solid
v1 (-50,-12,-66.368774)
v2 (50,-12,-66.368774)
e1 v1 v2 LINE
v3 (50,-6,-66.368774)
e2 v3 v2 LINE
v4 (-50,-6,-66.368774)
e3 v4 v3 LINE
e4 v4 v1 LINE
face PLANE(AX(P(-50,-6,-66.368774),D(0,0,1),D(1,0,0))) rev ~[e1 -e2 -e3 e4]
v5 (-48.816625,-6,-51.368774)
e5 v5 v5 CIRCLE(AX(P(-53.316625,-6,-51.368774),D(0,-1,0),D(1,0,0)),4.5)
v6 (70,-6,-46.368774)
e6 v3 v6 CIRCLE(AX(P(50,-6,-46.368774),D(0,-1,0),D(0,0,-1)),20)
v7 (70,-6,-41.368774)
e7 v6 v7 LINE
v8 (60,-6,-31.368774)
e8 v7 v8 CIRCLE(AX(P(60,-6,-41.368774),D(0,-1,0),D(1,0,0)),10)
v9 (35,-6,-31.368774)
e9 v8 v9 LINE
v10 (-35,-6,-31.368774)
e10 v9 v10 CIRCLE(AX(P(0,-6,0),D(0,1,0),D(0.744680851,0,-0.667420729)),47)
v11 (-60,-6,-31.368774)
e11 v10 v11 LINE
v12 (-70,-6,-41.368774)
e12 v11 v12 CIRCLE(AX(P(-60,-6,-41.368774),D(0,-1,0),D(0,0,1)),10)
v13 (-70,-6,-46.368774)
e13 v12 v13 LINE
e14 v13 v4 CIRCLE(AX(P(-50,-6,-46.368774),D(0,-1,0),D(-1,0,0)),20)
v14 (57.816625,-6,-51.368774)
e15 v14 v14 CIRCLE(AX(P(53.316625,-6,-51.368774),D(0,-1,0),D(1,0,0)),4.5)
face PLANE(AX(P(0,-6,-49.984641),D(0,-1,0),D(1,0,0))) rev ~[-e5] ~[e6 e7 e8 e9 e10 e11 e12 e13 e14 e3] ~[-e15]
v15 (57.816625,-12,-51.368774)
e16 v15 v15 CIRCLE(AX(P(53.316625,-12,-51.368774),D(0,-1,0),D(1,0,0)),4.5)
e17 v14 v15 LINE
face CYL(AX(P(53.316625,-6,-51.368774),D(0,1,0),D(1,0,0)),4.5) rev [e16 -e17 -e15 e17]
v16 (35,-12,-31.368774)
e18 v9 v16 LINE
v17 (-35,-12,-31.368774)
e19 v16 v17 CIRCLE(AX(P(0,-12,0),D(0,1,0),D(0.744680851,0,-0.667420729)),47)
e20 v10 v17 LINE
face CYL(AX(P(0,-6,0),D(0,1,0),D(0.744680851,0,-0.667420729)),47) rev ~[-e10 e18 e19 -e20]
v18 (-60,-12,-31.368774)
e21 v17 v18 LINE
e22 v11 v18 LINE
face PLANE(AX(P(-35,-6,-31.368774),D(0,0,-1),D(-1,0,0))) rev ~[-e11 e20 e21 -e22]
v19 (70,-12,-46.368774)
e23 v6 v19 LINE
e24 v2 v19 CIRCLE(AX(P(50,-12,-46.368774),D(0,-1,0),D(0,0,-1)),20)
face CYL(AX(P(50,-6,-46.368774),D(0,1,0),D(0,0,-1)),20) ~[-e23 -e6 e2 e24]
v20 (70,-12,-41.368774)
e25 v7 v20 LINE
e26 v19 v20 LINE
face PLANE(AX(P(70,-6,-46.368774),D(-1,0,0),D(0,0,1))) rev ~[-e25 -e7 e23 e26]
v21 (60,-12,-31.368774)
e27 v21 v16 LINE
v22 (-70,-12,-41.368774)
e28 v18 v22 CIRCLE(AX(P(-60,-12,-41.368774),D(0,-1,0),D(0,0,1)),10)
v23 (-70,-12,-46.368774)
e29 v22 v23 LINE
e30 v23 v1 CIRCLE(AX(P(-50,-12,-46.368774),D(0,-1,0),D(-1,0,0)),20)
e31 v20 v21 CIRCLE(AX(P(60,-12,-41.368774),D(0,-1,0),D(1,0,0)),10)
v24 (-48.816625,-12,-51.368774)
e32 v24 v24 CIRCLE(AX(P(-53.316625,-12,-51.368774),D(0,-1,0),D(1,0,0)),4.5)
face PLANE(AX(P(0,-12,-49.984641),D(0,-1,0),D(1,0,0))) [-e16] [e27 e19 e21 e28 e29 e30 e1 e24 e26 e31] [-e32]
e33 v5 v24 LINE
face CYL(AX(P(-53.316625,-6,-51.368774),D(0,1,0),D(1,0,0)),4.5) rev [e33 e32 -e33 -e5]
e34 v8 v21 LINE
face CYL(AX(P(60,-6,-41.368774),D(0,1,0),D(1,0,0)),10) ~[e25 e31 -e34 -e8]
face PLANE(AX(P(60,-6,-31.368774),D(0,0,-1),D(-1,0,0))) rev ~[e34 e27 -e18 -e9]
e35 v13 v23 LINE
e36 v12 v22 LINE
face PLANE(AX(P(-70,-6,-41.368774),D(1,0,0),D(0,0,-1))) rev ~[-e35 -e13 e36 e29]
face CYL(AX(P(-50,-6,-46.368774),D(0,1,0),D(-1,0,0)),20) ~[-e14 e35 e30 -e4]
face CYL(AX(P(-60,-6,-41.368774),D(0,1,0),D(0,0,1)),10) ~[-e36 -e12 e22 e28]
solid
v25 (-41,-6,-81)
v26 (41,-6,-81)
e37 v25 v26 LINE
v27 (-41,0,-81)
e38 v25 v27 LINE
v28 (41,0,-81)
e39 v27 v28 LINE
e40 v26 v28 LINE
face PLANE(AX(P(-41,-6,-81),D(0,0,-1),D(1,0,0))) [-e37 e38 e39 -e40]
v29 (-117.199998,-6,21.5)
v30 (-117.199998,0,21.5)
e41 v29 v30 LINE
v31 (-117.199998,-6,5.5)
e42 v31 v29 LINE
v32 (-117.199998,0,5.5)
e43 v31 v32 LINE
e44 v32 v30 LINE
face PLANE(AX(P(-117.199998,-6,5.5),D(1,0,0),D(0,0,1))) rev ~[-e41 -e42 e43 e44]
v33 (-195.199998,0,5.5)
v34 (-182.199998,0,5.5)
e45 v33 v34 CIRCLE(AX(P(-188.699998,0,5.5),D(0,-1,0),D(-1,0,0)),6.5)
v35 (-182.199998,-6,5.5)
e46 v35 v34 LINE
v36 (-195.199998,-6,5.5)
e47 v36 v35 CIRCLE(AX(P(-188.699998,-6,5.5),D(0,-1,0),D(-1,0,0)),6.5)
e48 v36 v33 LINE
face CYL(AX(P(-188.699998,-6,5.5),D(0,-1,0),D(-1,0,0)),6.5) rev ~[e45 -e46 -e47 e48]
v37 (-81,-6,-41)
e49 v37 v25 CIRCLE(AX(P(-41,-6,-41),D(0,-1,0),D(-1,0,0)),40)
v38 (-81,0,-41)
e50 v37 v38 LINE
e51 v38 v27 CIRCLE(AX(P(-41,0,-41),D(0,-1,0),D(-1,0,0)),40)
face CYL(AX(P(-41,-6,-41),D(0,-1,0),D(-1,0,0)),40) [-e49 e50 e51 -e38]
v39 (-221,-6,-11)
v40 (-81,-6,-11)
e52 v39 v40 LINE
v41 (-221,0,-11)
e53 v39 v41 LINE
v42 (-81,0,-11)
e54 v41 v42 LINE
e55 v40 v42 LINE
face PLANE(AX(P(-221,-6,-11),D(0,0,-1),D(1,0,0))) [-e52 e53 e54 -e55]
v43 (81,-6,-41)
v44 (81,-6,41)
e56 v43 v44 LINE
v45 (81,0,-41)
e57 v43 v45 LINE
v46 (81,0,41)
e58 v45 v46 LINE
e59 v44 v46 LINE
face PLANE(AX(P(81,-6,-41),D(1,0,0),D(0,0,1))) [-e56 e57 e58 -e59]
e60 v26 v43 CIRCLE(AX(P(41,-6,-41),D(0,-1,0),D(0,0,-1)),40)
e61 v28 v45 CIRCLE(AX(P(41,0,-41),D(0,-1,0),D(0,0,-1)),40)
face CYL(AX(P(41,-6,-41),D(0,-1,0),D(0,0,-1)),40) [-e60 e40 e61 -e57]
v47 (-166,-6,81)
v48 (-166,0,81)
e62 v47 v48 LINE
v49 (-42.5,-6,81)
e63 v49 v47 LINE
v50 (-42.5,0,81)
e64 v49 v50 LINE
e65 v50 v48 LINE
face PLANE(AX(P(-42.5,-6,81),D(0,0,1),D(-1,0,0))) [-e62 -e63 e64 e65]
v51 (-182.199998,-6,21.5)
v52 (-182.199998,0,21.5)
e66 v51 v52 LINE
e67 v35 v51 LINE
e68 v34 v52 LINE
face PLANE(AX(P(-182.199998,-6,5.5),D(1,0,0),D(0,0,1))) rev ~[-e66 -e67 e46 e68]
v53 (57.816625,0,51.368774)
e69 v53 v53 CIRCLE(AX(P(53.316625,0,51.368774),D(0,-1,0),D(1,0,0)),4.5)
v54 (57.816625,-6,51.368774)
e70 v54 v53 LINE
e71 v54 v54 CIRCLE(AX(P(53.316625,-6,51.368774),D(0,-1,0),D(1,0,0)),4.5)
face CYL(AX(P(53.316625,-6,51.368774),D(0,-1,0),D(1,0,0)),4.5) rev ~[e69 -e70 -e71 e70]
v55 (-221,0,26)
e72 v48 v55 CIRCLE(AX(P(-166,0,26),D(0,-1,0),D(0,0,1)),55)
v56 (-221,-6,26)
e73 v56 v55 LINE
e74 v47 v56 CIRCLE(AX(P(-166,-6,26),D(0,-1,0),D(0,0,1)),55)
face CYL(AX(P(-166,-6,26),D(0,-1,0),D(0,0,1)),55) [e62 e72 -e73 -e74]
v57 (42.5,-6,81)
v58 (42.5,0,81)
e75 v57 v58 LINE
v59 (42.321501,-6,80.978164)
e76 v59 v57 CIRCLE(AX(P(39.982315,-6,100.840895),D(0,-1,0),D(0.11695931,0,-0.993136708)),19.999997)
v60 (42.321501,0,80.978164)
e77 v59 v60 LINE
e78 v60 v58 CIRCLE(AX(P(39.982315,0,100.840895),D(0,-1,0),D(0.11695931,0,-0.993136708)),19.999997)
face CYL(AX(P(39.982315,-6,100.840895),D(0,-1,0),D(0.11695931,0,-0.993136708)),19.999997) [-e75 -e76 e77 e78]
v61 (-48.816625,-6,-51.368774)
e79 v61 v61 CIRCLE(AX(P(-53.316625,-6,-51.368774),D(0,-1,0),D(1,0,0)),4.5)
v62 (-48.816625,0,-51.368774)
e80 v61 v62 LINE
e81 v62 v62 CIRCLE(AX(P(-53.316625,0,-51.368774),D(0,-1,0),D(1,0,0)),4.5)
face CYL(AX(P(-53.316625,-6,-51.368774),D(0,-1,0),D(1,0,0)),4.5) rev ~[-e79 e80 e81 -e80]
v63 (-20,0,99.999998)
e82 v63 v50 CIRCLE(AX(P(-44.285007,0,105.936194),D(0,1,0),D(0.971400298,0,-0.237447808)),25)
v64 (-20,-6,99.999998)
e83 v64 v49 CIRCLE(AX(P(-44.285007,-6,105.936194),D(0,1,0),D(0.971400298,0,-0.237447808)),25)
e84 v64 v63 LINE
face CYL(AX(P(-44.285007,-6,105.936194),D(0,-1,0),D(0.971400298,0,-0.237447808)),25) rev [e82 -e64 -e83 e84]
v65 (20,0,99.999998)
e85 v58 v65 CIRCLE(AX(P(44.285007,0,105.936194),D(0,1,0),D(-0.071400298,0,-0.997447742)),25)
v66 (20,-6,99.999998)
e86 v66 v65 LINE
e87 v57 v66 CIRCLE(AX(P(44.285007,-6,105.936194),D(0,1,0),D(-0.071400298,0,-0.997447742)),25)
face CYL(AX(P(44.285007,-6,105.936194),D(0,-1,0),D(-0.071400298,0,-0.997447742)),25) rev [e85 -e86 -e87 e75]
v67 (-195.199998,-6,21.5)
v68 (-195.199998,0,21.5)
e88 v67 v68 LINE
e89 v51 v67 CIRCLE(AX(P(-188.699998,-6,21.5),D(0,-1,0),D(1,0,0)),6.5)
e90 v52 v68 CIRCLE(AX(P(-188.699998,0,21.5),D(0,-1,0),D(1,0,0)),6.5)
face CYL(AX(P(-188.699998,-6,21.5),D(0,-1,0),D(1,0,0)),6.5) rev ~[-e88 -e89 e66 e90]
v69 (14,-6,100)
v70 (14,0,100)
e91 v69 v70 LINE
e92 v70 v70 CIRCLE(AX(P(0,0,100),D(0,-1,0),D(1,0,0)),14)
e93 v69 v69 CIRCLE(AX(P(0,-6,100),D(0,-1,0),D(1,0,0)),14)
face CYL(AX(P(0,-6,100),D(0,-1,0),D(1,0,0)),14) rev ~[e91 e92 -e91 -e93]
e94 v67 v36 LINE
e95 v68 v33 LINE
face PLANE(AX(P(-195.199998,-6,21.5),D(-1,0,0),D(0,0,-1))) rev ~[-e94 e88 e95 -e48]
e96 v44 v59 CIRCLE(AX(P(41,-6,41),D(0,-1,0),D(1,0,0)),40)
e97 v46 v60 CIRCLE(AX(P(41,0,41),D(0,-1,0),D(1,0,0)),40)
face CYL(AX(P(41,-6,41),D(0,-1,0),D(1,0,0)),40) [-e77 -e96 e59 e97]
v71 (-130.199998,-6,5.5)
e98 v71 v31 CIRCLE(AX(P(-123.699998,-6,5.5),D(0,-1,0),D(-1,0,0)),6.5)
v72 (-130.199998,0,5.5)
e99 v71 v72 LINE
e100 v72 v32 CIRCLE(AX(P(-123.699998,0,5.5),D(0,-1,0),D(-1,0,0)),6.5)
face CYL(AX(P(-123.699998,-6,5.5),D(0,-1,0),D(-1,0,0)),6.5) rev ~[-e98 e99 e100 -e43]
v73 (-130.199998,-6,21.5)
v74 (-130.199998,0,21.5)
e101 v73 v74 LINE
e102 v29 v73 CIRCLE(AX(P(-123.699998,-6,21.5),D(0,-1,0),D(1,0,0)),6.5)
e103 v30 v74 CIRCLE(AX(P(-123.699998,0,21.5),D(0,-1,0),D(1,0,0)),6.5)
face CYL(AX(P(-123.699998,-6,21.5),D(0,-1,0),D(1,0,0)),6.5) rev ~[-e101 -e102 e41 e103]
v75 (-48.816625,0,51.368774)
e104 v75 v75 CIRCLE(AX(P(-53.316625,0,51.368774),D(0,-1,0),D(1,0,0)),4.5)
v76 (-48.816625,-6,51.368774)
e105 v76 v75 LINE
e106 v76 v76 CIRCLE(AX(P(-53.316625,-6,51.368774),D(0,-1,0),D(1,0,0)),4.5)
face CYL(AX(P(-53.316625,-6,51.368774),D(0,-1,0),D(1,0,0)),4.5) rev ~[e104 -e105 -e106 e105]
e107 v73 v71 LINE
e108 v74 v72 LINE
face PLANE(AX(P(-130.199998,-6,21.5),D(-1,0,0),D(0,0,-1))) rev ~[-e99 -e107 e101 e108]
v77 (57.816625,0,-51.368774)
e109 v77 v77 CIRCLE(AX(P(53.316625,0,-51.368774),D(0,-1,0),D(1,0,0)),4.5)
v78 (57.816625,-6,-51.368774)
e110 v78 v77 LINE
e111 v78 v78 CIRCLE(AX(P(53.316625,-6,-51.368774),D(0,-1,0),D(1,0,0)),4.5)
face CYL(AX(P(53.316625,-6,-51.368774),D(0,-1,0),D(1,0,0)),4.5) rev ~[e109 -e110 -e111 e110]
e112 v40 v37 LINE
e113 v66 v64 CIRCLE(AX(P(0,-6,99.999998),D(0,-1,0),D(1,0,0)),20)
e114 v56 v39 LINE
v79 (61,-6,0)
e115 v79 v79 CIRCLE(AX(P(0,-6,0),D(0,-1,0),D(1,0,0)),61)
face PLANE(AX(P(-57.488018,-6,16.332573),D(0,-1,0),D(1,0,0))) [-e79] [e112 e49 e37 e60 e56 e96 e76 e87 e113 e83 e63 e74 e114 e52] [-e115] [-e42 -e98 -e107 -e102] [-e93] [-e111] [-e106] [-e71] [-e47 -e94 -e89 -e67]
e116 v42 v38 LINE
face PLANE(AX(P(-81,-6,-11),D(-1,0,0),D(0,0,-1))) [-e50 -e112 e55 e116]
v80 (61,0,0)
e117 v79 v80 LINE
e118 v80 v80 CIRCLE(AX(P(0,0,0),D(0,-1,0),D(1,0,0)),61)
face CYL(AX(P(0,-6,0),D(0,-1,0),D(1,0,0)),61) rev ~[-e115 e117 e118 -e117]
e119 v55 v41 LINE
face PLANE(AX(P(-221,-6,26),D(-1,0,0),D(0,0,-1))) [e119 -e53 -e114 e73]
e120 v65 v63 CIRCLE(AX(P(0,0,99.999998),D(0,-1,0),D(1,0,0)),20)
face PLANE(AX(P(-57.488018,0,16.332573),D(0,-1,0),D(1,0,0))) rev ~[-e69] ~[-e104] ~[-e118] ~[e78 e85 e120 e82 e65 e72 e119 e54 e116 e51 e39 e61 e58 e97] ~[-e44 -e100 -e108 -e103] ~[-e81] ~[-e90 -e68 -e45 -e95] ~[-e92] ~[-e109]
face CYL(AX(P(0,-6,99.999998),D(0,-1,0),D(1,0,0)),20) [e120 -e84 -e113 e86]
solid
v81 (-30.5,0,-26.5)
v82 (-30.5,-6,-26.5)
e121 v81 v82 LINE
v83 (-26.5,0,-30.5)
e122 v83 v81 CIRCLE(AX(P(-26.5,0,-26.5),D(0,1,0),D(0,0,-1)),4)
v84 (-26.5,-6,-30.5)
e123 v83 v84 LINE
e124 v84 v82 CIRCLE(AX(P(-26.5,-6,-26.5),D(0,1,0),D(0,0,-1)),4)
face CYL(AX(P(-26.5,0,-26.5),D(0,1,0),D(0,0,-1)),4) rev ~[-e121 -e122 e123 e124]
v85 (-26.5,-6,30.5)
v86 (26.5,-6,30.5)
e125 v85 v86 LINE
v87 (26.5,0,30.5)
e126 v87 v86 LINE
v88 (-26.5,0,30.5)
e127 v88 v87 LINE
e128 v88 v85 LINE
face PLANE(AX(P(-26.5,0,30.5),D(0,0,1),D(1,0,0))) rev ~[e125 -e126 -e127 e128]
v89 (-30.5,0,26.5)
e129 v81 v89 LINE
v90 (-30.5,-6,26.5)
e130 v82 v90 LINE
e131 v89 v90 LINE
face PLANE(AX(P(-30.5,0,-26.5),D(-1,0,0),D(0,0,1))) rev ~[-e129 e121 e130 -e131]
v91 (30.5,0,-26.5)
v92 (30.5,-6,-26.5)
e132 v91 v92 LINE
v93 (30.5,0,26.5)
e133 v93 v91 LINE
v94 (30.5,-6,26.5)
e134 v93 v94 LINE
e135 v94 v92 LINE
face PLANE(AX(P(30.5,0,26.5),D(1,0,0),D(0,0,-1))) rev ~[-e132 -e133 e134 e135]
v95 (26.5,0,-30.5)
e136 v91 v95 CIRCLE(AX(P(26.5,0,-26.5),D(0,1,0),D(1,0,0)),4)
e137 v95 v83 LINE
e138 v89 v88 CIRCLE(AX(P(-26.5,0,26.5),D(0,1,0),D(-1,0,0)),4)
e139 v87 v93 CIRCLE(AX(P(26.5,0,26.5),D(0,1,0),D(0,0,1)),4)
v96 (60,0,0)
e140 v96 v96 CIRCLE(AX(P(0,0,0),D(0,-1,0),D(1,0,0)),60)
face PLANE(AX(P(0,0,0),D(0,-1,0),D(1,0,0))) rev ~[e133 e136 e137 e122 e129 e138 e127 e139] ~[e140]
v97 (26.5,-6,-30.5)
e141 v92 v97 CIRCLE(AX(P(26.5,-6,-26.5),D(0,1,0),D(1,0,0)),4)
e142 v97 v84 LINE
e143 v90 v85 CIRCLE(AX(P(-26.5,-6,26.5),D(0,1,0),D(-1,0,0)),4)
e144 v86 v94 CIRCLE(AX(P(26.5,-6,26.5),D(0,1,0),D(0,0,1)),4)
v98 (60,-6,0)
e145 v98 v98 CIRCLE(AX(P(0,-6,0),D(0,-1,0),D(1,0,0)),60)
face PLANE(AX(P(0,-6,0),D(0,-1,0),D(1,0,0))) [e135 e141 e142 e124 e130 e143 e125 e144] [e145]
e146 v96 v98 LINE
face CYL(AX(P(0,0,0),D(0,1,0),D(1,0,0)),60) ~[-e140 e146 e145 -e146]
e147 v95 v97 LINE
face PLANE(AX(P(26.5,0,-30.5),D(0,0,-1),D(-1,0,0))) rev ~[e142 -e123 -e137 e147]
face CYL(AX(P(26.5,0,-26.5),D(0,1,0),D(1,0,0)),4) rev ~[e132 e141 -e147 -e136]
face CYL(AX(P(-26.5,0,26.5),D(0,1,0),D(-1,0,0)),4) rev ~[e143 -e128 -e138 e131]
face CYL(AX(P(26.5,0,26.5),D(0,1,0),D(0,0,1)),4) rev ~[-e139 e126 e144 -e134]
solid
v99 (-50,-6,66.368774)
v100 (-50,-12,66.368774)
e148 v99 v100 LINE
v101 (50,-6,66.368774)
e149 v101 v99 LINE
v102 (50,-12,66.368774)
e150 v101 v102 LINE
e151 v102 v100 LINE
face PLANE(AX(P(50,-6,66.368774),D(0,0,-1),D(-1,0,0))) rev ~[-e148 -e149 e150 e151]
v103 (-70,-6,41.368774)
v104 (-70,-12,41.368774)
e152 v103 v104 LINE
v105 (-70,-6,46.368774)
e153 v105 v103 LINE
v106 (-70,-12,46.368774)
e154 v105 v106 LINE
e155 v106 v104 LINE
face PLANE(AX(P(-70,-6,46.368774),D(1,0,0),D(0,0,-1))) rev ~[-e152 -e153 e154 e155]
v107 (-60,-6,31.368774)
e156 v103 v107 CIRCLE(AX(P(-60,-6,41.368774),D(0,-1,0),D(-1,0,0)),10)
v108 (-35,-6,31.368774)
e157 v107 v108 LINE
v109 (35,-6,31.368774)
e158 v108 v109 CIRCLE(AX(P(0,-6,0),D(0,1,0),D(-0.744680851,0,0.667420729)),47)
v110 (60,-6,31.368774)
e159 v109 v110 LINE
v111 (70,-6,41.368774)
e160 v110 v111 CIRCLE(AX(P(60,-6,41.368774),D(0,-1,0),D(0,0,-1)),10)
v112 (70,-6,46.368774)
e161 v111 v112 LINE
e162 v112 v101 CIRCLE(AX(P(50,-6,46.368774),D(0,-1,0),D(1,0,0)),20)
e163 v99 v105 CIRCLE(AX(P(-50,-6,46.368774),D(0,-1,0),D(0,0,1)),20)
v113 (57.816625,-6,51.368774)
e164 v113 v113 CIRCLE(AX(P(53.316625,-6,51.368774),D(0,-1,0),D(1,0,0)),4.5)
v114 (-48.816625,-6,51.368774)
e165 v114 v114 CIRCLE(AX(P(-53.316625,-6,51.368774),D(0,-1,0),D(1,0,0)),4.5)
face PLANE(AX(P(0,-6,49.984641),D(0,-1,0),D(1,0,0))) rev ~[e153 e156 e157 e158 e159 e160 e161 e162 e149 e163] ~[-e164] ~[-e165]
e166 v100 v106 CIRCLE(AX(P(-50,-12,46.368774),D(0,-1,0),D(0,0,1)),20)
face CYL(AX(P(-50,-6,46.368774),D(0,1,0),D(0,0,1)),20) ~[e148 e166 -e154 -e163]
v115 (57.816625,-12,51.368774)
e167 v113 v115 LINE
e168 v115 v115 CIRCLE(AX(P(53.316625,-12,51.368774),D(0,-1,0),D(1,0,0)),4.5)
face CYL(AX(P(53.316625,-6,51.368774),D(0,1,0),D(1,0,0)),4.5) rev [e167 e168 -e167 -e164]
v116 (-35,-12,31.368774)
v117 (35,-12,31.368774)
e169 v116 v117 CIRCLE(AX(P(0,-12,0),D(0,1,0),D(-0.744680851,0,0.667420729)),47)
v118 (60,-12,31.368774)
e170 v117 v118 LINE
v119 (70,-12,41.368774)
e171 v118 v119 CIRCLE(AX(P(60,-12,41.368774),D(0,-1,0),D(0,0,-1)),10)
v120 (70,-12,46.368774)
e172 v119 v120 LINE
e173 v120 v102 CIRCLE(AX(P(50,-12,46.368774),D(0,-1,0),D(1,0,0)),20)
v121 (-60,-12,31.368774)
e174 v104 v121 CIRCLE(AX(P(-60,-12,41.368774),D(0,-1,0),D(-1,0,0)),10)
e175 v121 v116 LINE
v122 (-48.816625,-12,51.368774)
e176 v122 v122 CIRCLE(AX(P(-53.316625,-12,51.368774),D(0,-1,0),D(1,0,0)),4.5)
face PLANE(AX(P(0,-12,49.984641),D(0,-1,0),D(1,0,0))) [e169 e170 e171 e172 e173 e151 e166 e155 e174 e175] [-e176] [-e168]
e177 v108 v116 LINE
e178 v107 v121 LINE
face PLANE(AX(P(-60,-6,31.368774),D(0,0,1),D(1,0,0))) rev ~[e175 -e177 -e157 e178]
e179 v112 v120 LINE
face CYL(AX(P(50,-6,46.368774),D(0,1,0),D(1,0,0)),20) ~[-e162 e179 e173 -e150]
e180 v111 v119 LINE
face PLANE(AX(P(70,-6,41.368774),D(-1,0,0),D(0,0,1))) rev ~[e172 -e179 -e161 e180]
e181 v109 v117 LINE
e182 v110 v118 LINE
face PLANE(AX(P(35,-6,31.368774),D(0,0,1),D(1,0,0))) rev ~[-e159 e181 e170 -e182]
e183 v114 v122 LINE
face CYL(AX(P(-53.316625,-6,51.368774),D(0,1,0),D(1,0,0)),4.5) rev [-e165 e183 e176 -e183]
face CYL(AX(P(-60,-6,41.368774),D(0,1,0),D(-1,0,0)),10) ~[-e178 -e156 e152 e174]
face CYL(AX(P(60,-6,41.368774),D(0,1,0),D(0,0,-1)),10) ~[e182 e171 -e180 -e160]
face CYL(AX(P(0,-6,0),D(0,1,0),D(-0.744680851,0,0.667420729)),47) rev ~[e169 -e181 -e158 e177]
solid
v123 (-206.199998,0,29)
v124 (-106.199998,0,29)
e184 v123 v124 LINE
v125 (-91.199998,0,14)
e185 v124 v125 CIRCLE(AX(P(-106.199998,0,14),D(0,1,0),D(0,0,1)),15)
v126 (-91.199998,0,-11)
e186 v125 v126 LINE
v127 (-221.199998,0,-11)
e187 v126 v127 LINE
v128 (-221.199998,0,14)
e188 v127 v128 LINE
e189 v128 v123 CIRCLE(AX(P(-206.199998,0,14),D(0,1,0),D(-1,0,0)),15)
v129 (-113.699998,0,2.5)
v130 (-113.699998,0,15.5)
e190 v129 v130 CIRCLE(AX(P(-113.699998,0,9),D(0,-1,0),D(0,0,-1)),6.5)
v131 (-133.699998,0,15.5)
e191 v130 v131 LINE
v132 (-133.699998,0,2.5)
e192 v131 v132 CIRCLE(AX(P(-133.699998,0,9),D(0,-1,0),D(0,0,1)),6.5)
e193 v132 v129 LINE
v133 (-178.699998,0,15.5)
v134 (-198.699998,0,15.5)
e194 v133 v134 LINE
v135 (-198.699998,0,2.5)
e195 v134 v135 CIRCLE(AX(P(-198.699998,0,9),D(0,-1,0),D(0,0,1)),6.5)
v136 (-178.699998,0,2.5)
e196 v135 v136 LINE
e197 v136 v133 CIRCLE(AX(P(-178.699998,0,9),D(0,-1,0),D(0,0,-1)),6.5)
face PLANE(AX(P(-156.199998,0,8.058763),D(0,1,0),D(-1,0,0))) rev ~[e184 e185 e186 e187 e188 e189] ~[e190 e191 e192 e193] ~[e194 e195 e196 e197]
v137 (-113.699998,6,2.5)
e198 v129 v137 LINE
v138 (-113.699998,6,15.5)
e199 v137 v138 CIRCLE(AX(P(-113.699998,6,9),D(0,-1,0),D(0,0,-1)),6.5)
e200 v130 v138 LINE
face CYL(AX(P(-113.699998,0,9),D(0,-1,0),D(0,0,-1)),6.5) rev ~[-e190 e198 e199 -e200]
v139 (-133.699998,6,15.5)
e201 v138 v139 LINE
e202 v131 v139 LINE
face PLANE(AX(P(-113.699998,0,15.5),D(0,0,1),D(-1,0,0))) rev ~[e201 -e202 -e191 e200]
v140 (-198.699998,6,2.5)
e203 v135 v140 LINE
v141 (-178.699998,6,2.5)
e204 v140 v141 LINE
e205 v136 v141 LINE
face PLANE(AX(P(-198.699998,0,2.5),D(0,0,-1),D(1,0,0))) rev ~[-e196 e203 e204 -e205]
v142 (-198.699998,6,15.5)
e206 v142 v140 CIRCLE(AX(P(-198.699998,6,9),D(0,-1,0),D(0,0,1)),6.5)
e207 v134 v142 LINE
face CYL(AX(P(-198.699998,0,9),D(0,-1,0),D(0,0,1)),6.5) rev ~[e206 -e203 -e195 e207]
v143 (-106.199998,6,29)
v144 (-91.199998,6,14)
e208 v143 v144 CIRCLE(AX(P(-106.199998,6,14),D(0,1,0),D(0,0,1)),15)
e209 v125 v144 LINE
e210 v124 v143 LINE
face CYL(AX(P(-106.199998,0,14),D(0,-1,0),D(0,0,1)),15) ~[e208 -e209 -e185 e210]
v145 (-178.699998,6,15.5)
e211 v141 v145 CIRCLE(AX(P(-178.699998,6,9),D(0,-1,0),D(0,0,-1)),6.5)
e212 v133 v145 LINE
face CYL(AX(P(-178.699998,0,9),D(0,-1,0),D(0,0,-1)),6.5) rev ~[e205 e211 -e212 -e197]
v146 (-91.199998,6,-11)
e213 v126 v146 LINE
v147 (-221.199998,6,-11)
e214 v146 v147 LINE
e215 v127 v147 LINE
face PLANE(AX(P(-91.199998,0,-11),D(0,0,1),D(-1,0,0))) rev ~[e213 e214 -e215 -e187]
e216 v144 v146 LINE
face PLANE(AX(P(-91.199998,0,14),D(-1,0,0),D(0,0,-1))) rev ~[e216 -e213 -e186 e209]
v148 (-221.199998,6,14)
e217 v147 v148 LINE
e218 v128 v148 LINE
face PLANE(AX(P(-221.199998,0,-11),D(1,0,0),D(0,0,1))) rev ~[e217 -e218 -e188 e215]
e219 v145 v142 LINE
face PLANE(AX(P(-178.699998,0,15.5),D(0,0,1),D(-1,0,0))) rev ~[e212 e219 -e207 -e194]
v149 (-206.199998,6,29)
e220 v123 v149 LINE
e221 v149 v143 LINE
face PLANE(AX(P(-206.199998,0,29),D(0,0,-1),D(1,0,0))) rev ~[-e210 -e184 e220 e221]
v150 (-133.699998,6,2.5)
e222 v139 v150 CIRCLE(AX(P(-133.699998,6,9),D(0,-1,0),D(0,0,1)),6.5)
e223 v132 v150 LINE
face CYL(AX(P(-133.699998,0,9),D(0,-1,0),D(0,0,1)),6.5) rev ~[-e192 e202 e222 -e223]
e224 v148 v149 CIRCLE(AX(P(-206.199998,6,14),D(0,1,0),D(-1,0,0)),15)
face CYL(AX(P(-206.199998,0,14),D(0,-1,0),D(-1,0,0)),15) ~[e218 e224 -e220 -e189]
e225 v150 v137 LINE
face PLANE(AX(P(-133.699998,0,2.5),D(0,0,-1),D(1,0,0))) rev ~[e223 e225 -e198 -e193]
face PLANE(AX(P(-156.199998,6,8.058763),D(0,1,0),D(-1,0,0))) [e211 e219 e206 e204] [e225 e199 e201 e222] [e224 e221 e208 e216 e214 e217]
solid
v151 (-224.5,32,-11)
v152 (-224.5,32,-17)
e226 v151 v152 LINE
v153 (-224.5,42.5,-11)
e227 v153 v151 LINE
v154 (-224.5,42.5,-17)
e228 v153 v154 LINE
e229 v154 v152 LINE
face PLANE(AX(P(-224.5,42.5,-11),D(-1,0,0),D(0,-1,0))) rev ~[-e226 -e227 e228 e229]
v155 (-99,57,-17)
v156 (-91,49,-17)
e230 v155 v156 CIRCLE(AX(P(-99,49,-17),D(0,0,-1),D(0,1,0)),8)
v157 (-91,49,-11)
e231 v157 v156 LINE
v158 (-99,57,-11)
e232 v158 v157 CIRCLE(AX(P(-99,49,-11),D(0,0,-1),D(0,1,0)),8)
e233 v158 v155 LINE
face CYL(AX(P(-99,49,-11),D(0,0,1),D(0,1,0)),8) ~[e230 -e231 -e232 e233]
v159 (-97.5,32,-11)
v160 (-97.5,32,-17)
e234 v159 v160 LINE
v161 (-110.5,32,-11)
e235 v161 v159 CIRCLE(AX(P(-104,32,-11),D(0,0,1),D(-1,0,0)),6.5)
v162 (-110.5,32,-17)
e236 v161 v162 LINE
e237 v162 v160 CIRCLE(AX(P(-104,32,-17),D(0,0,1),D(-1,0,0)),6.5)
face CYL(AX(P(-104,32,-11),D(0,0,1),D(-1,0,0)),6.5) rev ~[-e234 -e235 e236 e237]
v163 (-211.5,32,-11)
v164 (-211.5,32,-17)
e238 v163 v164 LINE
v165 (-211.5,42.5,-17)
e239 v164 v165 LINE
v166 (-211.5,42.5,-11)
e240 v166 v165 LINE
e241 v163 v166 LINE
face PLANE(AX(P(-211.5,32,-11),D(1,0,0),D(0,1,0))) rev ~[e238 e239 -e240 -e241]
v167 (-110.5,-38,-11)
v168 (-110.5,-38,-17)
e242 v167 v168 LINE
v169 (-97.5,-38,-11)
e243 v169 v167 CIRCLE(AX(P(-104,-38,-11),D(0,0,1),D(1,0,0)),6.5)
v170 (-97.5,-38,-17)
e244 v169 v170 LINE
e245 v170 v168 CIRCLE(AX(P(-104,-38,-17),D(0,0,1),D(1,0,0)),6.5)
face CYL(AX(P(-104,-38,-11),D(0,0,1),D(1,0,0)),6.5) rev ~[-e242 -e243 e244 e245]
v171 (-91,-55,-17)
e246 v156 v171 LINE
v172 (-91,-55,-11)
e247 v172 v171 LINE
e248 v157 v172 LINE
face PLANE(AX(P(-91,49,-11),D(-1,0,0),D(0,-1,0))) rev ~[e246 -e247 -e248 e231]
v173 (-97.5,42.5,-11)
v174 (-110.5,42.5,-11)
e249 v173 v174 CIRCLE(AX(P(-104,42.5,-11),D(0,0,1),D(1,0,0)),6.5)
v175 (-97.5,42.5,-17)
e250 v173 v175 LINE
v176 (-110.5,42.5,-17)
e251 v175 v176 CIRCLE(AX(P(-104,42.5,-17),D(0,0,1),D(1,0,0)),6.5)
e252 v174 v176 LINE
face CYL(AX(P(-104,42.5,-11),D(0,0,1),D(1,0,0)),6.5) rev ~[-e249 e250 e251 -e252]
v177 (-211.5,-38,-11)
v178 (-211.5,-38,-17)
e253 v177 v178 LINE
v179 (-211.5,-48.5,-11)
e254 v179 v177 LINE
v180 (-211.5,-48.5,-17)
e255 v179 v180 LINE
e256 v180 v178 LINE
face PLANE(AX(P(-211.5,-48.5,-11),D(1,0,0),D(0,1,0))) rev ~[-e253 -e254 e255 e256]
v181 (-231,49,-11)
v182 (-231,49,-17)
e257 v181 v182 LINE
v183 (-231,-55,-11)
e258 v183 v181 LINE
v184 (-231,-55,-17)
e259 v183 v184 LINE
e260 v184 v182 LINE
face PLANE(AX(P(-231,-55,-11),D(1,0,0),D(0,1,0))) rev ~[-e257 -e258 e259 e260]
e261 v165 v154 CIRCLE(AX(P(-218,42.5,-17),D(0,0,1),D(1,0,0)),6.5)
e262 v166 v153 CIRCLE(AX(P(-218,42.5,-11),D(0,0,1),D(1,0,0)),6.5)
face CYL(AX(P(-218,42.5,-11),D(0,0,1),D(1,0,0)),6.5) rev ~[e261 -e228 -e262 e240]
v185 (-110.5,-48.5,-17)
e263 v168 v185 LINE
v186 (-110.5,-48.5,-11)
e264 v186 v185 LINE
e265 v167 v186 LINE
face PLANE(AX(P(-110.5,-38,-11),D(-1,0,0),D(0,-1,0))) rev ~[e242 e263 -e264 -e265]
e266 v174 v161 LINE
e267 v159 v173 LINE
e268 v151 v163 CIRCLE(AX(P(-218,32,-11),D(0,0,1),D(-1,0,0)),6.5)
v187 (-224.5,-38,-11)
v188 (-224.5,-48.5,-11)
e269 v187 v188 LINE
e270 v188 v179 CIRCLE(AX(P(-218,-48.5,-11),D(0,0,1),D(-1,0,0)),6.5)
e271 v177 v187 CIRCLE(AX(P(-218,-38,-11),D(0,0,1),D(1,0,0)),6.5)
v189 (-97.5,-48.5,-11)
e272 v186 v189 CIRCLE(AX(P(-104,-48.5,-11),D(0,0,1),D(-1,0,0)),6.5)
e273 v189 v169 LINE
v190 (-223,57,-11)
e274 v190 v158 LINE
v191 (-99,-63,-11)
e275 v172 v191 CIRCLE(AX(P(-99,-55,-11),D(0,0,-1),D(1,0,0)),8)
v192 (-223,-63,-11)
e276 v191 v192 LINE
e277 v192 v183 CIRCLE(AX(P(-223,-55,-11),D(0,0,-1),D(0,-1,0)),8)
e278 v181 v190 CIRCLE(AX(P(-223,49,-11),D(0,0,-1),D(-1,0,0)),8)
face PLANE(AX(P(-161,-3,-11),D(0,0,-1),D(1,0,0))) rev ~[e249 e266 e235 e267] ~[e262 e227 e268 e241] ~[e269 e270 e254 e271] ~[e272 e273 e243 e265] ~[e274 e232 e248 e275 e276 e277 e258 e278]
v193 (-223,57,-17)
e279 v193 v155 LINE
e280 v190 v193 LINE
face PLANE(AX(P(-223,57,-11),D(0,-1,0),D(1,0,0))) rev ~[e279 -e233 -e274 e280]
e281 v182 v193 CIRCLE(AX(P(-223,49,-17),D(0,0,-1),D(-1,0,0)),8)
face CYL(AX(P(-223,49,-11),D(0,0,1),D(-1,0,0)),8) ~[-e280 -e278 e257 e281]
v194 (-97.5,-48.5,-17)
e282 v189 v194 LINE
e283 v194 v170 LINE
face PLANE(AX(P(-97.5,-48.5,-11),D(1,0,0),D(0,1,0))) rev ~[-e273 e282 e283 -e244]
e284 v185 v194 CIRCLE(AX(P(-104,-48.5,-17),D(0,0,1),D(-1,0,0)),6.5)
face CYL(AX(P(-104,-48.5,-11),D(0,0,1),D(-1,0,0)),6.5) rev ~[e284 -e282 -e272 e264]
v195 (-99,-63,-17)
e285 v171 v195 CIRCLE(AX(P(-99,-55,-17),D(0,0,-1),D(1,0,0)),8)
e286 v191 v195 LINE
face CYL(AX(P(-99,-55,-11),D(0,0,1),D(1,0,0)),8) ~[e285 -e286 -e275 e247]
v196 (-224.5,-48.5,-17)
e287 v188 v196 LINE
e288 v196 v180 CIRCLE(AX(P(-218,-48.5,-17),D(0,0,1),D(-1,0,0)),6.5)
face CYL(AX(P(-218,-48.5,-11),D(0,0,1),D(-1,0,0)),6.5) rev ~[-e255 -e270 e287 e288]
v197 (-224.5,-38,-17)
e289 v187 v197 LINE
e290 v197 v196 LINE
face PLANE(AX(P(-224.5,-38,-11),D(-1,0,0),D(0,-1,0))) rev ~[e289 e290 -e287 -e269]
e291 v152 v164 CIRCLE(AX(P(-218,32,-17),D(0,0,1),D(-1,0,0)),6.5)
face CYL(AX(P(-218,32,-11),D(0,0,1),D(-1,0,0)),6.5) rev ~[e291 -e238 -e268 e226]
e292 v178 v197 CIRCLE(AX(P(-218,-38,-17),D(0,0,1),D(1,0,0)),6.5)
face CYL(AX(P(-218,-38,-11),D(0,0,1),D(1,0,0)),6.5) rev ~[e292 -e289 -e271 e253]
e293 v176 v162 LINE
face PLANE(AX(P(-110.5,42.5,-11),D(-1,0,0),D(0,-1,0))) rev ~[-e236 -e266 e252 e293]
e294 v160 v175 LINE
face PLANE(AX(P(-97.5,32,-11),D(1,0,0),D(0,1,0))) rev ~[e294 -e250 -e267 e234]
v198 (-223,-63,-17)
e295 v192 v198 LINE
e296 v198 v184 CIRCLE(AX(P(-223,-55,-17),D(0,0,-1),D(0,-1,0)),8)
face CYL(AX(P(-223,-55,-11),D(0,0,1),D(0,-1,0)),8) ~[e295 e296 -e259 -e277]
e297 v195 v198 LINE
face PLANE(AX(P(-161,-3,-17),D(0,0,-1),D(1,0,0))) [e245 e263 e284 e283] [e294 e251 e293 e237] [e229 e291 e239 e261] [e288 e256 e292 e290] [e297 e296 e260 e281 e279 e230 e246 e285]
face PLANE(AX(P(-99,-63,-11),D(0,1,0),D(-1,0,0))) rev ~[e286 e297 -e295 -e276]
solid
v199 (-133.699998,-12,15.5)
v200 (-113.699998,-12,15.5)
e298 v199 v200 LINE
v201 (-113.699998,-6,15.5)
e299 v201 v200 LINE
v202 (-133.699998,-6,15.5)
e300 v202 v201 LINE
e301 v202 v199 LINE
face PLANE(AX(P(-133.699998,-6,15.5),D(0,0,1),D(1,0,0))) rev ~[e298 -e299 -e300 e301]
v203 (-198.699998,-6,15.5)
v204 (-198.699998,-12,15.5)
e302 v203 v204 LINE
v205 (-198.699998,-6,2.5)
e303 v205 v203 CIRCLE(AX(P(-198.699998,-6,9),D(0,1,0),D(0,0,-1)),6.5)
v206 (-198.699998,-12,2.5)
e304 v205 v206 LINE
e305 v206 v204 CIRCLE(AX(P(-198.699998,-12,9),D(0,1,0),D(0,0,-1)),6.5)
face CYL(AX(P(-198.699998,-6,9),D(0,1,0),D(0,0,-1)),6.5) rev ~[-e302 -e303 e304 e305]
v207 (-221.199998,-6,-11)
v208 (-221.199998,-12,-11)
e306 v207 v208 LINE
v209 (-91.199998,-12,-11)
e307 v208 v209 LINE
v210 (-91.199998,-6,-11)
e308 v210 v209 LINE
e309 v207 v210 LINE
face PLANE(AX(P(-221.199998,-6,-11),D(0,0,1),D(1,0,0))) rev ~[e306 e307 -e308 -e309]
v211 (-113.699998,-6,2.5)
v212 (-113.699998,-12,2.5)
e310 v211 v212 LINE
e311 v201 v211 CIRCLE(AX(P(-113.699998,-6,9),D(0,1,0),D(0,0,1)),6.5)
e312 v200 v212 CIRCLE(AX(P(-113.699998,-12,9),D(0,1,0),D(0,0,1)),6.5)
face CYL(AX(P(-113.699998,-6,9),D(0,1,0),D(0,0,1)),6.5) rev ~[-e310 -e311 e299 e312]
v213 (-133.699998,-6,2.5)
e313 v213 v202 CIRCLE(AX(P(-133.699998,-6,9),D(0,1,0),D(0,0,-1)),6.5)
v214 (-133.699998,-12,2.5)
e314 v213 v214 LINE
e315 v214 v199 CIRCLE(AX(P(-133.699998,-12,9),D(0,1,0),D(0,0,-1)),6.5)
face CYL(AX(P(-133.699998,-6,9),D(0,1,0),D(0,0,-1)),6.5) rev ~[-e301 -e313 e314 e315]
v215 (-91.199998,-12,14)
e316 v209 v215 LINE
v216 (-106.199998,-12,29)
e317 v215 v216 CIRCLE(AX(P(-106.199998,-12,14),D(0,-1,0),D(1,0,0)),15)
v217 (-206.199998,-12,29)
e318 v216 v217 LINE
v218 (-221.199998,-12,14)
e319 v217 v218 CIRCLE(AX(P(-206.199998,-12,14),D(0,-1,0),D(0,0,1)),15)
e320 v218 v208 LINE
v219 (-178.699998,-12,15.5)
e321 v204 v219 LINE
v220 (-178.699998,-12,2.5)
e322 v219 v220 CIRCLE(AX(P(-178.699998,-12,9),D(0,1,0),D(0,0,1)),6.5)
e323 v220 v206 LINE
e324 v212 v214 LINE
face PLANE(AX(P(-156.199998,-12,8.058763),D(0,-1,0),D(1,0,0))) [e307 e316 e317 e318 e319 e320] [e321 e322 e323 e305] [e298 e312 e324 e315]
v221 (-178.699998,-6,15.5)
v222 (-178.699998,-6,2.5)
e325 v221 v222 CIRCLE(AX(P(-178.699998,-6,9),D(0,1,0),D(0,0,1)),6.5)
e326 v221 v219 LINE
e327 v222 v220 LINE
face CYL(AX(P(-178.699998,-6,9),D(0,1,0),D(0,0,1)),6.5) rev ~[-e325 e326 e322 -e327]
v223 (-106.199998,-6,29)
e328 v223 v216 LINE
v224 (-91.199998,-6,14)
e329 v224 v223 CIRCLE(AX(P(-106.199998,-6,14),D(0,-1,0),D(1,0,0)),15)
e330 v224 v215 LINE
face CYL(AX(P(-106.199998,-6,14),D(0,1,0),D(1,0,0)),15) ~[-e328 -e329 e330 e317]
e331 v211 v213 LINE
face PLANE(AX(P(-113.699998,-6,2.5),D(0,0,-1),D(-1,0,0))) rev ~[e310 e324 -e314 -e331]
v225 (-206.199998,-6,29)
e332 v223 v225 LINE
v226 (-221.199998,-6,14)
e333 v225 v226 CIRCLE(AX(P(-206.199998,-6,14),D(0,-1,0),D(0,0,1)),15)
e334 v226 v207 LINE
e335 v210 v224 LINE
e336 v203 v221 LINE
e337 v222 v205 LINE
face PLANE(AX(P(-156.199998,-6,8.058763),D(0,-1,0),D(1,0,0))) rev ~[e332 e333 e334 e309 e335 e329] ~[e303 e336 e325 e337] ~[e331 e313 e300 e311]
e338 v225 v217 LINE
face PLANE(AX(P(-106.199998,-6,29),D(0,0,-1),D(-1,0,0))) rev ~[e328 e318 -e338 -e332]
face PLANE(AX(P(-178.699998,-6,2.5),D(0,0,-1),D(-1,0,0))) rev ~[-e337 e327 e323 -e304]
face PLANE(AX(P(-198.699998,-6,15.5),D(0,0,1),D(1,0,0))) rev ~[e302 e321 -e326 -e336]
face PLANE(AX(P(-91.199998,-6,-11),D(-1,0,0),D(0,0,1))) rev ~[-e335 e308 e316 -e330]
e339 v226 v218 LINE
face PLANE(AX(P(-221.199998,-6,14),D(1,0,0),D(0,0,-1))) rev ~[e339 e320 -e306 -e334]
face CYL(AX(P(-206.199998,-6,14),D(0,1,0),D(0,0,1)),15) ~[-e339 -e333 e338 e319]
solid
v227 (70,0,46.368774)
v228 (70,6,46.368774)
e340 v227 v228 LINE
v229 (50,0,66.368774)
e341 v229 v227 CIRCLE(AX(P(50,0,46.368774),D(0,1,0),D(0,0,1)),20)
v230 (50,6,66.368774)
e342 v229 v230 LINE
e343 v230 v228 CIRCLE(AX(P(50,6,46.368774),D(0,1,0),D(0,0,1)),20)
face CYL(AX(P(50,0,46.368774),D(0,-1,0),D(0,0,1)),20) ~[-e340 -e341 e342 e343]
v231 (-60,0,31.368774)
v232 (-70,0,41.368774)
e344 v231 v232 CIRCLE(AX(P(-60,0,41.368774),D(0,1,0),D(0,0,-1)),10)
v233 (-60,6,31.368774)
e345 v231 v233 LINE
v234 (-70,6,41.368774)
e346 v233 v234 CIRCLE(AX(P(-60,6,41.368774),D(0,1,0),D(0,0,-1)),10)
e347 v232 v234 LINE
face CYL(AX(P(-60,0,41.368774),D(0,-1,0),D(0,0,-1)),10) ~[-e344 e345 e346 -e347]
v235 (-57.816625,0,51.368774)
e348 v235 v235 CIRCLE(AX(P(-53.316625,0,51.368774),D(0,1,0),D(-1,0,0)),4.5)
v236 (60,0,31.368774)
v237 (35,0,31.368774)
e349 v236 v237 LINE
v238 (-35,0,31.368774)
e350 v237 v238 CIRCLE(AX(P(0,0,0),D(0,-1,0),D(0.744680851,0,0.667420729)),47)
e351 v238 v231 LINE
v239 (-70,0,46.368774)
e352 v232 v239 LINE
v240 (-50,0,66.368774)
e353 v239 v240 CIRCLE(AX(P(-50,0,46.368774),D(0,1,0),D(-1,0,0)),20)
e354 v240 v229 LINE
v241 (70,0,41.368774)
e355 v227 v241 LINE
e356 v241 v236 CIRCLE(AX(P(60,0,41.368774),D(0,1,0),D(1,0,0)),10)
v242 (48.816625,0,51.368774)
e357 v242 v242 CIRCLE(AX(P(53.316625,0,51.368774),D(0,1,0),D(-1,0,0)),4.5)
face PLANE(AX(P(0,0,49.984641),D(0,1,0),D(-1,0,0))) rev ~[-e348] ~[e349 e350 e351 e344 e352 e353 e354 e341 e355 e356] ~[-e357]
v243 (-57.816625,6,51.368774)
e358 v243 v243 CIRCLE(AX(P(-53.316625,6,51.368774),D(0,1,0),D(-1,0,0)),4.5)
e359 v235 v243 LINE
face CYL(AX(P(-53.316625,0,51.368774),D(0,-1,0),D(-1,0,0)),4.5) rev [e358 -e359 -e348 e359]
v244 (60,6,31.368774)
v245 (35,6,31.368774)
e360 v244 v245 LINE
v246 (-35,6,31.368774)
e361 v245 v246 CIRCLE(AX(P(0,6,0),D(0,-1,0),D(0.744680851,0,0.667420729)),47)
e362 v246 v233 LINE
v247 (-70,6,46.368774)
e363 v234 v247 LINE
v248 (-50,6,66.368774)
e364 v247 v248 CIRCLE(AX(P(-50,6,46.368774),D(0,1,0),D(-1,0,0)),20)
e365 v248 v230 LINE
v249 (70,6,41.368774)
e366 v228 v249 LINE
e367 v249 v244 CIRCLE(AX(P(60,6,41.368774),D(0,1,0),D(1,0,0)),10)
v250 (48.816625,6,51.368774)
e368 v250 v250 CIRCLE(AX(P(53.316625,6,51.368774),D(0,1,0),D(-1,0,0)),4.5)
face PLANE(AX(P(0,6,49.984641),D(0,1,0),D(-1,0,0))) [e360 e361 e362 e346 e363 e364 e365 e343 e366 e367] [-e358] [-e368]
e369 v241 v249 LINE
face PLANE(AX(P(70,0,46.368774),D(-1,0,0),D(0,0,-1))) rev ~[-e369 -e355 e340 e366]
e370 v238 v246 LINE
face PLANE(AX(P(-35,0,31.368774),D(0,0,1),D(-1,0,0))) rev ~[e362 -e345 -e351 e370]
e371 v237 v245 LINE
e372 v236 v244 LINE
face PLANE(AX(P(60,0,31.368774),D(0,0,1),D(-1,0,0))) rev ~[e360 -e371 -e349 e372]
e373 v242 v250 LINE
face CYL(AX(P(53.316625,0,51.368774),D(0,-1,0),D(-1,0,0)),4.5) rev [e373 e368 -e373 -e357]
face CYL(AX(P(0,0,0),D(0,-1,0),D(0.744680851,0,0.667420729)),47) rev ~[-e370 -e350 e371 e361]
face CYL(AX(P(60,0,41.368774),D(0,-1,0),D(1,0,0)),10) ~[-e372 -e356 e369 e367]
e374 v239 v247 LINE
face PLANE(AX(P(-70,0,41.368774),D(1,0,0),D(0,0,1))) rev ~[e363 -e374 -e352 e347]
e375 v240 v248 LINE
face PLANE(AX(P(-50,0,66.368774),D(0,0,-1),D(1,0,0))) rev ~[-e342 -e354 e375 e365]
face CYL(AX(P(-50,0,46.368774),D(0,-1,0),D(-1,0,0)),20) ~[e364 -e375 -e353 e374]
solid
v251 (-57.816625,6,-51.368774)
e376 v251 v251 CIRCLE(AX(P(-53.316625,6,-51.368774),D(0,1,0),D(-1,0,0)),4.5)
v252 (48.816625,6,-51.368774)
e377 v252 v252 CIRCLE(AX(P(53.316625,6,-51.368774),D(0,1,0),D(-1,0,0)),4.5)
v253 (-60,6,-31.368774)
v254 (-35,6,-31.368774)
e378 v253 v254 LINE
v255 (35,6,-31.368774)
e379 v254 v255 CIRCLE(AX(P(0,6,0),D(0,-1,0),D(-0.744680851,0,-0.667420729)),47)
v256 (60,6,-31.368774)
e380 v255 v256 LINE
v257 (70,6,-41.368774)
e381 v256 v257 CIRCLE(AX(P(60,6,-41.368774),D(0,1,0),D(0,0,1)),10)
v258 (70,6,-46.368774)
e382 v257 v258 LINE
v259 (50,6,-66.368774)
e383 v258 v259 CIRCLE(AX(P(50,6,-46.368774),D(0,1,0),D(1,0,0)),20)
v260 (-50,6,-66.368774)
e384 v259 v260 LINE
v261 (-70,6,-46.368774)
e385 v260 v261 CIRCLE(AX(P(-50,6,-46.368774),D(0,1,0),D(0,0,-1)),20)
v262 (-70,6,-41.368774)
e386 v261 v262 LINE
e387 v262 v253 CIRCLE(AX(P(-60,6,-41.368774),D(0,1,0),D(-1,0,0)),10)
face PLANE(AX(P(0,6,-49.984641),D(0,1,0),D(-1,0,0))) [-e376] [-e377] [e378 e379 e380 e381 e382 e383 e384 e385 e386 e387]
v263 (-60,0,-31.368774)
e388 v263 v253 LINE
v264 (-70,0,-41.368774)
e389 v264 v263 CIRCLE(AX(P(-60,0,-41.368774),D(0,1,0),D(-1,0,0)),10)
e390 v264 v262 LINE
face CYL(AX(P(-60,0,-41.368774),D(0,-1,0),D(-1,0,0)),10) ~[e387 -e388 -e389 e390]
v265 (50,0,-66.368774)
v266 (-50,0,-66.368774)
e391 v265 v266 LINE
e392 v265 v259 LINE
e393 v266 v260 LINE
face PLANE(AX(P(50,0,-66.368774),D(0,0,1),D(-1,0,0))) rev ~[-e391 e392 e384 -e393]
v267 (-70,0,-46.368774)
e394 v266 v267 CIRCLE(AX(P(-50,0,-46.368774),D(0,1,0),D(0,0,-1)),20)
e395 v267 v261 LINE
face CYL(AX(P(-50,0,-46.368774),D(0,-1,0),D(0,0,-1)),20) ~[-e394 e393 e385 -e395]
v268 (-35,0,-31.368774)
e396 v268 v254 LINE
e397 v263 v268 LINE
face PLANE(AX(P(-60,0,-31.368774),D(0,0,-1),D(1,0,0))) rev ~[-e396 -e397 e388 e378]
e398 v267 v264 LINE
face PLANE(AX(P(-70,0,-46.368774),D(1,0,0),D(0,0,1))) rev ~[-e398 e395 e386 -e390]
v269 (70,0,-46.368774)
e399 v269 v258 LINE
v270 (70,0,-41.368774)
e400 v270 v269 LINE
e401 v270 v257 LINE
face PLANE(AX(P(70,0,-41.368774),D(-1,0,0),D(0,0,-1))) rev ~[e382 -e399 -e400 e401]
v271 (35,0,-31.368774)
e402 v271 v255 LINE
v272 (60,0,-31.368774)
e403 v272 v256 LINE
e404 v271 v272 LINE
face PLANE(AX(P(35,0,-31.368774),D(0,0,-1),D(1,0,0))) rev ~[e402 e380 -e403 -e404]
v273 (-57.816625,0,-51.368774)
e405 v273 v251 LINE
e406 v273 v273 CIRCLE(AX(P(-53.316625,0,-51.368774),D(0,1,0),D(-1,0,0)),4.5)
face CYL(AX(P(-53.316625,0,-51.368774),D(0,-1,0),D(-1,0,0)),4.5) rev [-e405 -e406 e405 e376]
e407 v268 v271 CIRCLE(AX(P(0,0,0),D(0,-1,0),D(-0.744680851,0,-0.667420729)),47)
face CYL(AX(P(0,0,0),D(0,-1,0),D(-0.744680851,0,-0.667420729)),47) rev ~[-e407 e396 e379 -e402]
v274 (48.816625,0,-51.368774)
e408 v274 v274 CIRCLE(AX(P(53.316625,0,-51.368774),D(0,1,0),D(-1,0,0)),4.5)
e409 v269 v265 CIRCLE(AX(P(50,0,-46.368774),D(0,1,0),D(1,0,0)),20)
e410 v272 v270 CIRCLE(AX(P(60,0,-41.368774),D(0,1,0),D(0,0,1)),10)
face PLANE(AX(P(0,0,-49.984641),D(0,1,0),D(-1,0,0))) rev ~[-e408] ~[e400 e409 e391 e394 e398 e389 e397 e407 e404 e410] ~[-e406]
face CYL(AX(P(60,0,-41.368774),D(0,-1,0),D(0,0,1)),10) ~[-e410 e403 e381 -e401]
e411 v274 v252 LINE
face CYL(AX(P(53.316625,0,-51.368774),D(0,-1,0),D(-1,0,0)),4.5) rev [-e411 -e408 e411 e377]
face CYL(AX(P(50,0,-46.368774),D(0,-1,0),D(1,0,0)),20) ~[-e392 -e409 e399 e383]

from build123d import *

# Parameters (mm, degrees)
F0_R      = 60
F1_DEPTH  = 6
F2_R      = 61
F2_R_2    = 14
F3_DEPTH  = 6
F4_R      = 4.5
F5_DEPTH  = 6
F6_R      = 4.5
F7_DEPTH  = 25
F8_R      = 4.5
F9_DEPTH  = 6
F11_DEPTH = 6
F13_DEPTH = 25
F15_DEPTH = 6
F17_DEPTH = 6


with BuildPart() as f1:
    # F0 (on Front) → F1 (new body)
    with BuildSketch(Plane.XZ):
        Circle(F0_R)
        with BuildLine():
            Line((-26.5, 30.5), (26.5, 30.5))
            ThreePointArc((26.5, 30.5), (29.3284271247, 29.3284271247), (30.5, 26.5))
            Line((30.5, 26.5), (30.5, -26.5))
            ThreePointArc((30.5, -26.5), (29.3284271247, -29.3284271247), (26.5, -30.5))
            Line((26.5, -30.5), (-26.5, -30.5))
            ThreePointArc((-26.5, -30.5), (-29.3284271247, -29.3284271247), (-30.5, -26.5))
            Line((-30.5, -26.5), (-30.5, 26.5))
            ThreePointArc((-30.5, 26.5), (-29.3284271247, 29.3284271247), (-26.5, 30.5))
        make_face(mode=Mode.SUBTRACT)
    extrude(amount=F1_DEPTH)


with BuildPart() as f3:
    # F2 (on face) → F3 (new body)
    with BuildSketch(Plane.XZ.offset(6)):
        with BuildLine():
            Line((-41, -81), (41, -81))
            ThreePointArc((41, -81), (69.2842712475, -69.2842712475), (81, -41))
            Line((81, -41), (81, 41))
            ThreePointArc((81, 41), (69.7476957532, 68.8131261975), (42.321500556, 80.9781644936))
            ThreePointArc((42.321500556, 80.9781644936), (42.4107748199, 80.9888816235), (42.5, 81))
            ThreePointArc((42.5, 81), (28.1554878166, 86.835444958), (20, 99.9999983537))
            ThreePointArc((20, 99.9999983537), (0, 119.9999983537), (-20, 99.9999983537))
            ThreePointArc((-20, 99.9999983537), (-28.1554878166, 86.835444958), (-42.5, 81))
            Line((-42.5, 81), (-81, 81))
            Line((-81, 81), (-166, 81))
            ThreePointArc((-166, 81), (-204.8908729653, 64.8908729653), (-221, 26))
            Line((-221, 26), (-221, -11))
            Line((-221, -11), (-81, -11))
            Line((-81, -11), (-81, -19))
            Line((-81, -19), (-81, -41))
            ThreePointArc((-81, -41), (-69.2842712475, -69.2842712475), (-41, -81))
        make_face()
        Circle(F2_R, mode=Mode.SUBTRACT)
        with Locations((0, 100)):
            Circle(F2_R_2, mode=Mode.SUBTRACT)
    extrude(amount=-F3_DEPTH)

    # F6 (on face) → F7 (cut)
    with BuildSketch(Plane.XZ.offset(6)):
        with Locations((-53.3166247904, 51.3687742827)):
            Circle(F6_R)
        with Locations((53.3166247904, 51.3687742827)):
            Circle(F6_R)
        with Locations((-53.3166247904, -51.3687742827)):
            Circle(F6_R)
        with Locations((53.3166247904, -51.3687742827)):
            Circle(F6_R)
    extrude(amount=-F7_DEPTH, mode=Mode.SUBTRACT)

    # F12 (on face) → F13 (cut)
    with BuildSketch(Plane.XZ.offset(6)):
        with BuildLine():
            ThreePointArc((-182.1999976635, 21.5), (-188.6999976635, 28), (-195.1999976635, 21.5))
            Line((-195.1999976635, 21.5), (-195.1999976635, 5.5))
            ThreePointArc((-195.1999976635, 5.5), (-188.6999976635, -1), (-182.1999976635, 5.5))
            Line((-182.1999976635, 5.5), (-182.1999976635, 21.5))
        make_face()
        with BuildLine():
            ThreePointArc((-117.1999976635, 21.5), (-123.6999976635, 28), (-130.1999976635, 21.5))
            Line((-130.1999976635, 21.5), (-130.1999976635, 5.5))
            ThreePointArc((-130.1999976635, 5.5), (-123.6999976635, -1), (-117.1999976635, 5.5))
            Line((-117.1999976635, 5.5), (-117.1999976635, 21.5))
        make_face()
    extrude(amount=-F13_DEPTH, mode=Mode.SUBTRACT)


with BuildPart() as f5:
    # F4 (on face) → F5 (new body)
    with BuildSketch(Plane.XZ.offset(6)):
        with BuildLine():
            ThreePointArc((35, -31.3687742827), (0, -47), (-35, -31.3687742827))
            Line((-35, -31.3687742827), (-60, -31.3687742827))
            ThreePointArc((-60, -31.3687742827), (-67.0710678119, -34.2977064709), (-70, -41.3687742827))
            Line((-70, -41.3687742827), (-70, -46.3687742827))
            ThreePointArc((-70, -46.3687742827), (-64.1421356237, -60.5109099064), (-50, -66.3687742827))
            Line((-50, -66.3687742827), (50, -66.3687742827))
            ThreePointArc((50, -66.3687742827), (64.1421356237, -60.5109099064), (70, -46.3687742827))
            Line((70, -46.3687742827), (70, -41.3687742827))
            ThreePointArc((70, -41.3687742827), (67.0710678119, -34.2977064709), (60, -31.3687742827))
            Line((60, -31.3687742827), (35, -31.3687742827))
        make_face()
        with Locations((-53.3166247904, -51.3687742827)):
            Circle(F4_R, mode=Mode.SUBTRACT)
        with Locations((53.3166247904, -51.3687742827)):
            Circle(F4_R, mode=Mode.SUBTRACT)
    extrude(amount=F5_DEPTH)


with BuildPart() as f5b:
    # F4 (on face) → F5, piece 2 (new body)
    with BuildSketch(Plane.XZ.offset(6)):
        with BuildLine():
            ThreePointArc((-70, 41.3687742827), (-67.0710678119, 34.2977064709), (-60, 31.3687742827))
            Line((-60, 31.3687742827), (-35, 31.3687742827))
            ThreePointArc((-35, 31.3687742827), (0, 47), (35, 31.3687742827))
            Line((35, 31.3687742827), (60, 31.3687742827))
            ThreePointArc((60, 31.3687742827), (67.0710678119, 34.2977064709), (70, 41.3687742827))
            Line((70, 41.3687742827), (70, 46.3687742827))
            ThreePointArc((70, 46.3687742827), (64.1421356237, 60.5109099064), (50, 66.3687742827))
            Line((50, 66.3687742827), (-50, 66.3687742827))
            ThreePointArc((-50, 66.3687742827), (-64.1421356237, 60.5109099064), (-70, 46.3687742827))
            Line((-70, 46.3687742827), (-70, 41.3687742827))
        make_face()
        with Locations((-53.3166247904, 51.3687742827)):
            Circle(F4_R, mode=Mode.SUBTRACT)
        with Locations((53.3166247904, 51.3687742827)):
            Circle(F4_R, mode=Mode.SUBTRACT)
    extrude(amount=F5_DEPTH)


with BuildPart() as f9:
    # F8 (on face) → F9 (new body)
    with BuildSketch(Plane(origin=(0, 0, 0), x_dir=(-1, 0, 0), z_dir=(0, 1, 0))):
        with BuildLine():
            Line((-60, 31.3687742827), (-35, 31.3687742827))
            ThreePointArc((-35, 31.3687742827), (0, 47), (35, 31.3687742827))
            Line((35, 31.3687742827), (60, 31.3687742827))
            ThreePointArc((60, 31.3687742827), (67.0710678119, 34.2977064709), (70, 41.3687742827))
            Line((70, 41.3687742827), (70, 46.3687742827))
            ThreePointArc((70, 46.3687742827), (64.1421356237, 60.5109099064), (50, 66.3687742827))
            Line((50, 66.3687742827), (-50, 66.3687742827))
            ThreePointArc((-50, 66.3687742827), (-64.1421356237, 60.5109099064), (-70, 46.3687742827))
            Line((-70, 46.3687742827), (-70, 41.3687742827))
            ThreePointArc((-70, 41.3687742827), (-67.0710678119, 34.2977064709), (-60, 31.3687742827))
        make_face()
        with Locations((-53.3166247904, 51.3687742827)):
            Circle(F8_R, mode=Mode.SUBTRACT)
        with Locations((53.3166247904, 51.3687742827)):
            Circle(F8_R, mode=Mode.SUBTRACT)
    extrude(amount=F9_DEPTH)


with BuildPart() as f9b:
    # F8 (on face) → F9, piece 2 (new body)
    with BuildSketch(Plane(origin=(0, 0, 0), x_dir=(-1, 0, 0), z_dir=(0, 1, 0))):
        with BuildLine():
            ThreePointArc((35, -31.3687742827), (0, -47), (-35, -31.3687742827))
            Line((-35, -31.3687742827), (-60, -31.3687742827))
            ThreePointArc((-60, -31.3687742827), (-67.0710678119, -34.2977064709), (-70, -41.3687742827))
            Line((-70, -41.3687742827), (-70, -46.3687742827))
            ThreePointArc((-70, -46.3687742827), (-64.1421356237, -60.5109099064), (-50, -66.3687742827))
            Line((-50, -66.3687742827), (50, -66.3687742827))
            ThreePointArc((50, -66.3687742827), (64.1421356237, -60.5109099064), (70, -46.3687742827))
            Line((70, -46.3687742827), (70, -41.3687742827))
            ThreePointArc((70, -41.3687742827), (67.0710678119, -34.2977064709), (60, -31.3687742827))
            Line((60, -31.3687742827), (35, -31.3687742827))
        make_face()
        with Locations((-53.3166247904, -51.3687742827)):
            Circle(F8_R, mode=Mode.SUBTRACT)
        with Locations((53.3166247904, -51.3687742827)):
            Circle(F8_R, mode=Mode.SUBTRACT)
    extrude(amount=F9_DEPTH)


with BuildPart() as f11:
    # F10 (on face) → F11 (new body)
    with BuildSketch(Plane.XZ.offset(6)):
        with BuildLine():
            Line((-221.1999976635, -11), (-91.1999976635, -11))
            Line((-91.1999976635, -11), (-91.1999976635, 14))
            ThreePointArc((-91.1999976635, 14), (-95.5933959457, 24.6066017178), (-106.1999976635, 29))
            Line((-106.1999976635, 29), (-206.1999976635, 29))
            ThreePointArc((-206.1999976635, 29), (-216.8065993813, 24.6066017178), (-221.1999976635, 14))
            Line((-221.1999976635, 14), (-221.1999976635, -11))
        make_face()
        with BuildLine():
            Line((-198.6999976635, 15.5), (-178.6999976635, 15.5))
            ThreePointArc((-178.6999976635, 15.5), (-172.1999976635, 9), (-178.6999976635, 2.5))
            Line((-178.6999976635, 2.5), (-198.6999976635, 2.5))
            ThreePointArc((-198.6999976635, 2.5), (-205.1999976635, 9), (-198.6999976635, 15.5))
        make_face(mode=Mode.SUBTRACT)
        with BuildLine():
            ThreePointArc((-133.6999976635, 2.5), (-140.1999976635, 9), (-133.6999976635, 15.5))
            Line((-133.6999976635, 15.5), (-113.6999976635, 15.5))
            ThreePointArc((-113.6999976635, 15.5), (-107.1999976635, 9), (-113.6999976635, 2.5))
            Line((-113.6999976635, 2.5), (-133.6999976635, 2.5))
        make_face(mode=Mode.SUBTRACT)
    extrude(amount=F11_DEPTH)


with BuildPart() as f15:
    # F14 (on face) → F15 (new body)
    with BuildSketch(Plane(origin=(0, 0, 0), x_dir=(-1, 0, 0), z_dir=(0, 1, 0))):
        with BuildLine():
            ThreePointArc((106.1999976635, 29), (95.5933959457, 24.6066017178), (91.1999976635, 14))
            Line((91.1999976635, 14), (91.1999976635, -11))
            Line((91.1999976635, -11), (221.1999976635, -11))
            Line((221.1999976635, -11), (221.1999976635, 14))
            ThreePointArc((221.1999976635, 14), (216.8065993813, 24.6066017178), (206.1999976635, 29))
            Line((206.1999976635, 29), (106.1999976635, 29))
        make_face()
        with BuildLine():
            ThreePointArc((113.6999976635, 2.5), (107.1999976635, 9), (113.6999976635, 15.5))
            Line((113.6999976635, 15.5), (133.6999976635, 15.5))
            ThreePointArc((133.6999976635, 15.5), (140.1999976635, 9), (133.6999976635, 2.5))
            Line((133.6999976635, 2.5), (113.6999976635, 2.5))
        make_face(mode=Mode.SUBTRACT)
        with BuildLine():
            ThreePointArc((178.6999976635, 2.5), (172.1999976635, 9), (178.6999976635, 15.5))
            Line((178.6999976635, 15.5), (198.6999976635, 15.5))
            ThreePointArc((198.6999976635, 15.5), (205.1999976635, 9), (198.6999976635, 2.5))
            Line((198.6999976635, 2.5), (178.6999976635, 2.5))
        make_face(mode=Mode.SUBTRACT)
    extrude(amount=F15_DEPTH)


with BuildPart() as f17:
    # F16 (on face) → F17 (new body)
    with BuildSketch(Plane(origin=(0, 0, -11), x_dir=(1, 0, 0), z_dir=(0, 0, -1))):
        with BuildLine():
            ThreePointArc((-223, 63), (-228.6568542495, 60.6568542495), (-231, 55))
            Line((-231, 55), (-231, -49))
            ThreePointArc((-231, -49), (-228.6568542495, -54.6568542495), (-223, -57))
            Line((-223, -57), (-99, -57))
            ThreePointArc((-99, -57), (-93.3431457505, -54.6568542495), (-91, -49))
            Line((-91, -49), (-91, 55))
            ThreePointArc((-91, 55), (-93.3431457505, 60.6568542495), (-99, 63))
            Line((-99, 63), (-223, 63))
        make_face()
        with BuildLine():
            Line((-224.5, -42.5), (-224.5, -32))
            ThreePointArc((-224.5, -32), (-218, -25.5), (-211.5, -32))
            Line((-211.5, -32), (-211.5, -42.5))
            ThreePointArc((-211.5, -42.5), (-218, -49), (-224.5, -42.5))
        make_face(mode=Mode.SUBTRACT)
        with BuildLine():
            Line((-110.5, -42.5), (-110.5, -32))
            ThreePointArc((-110.5, -32), (-104, -25.5), (-97.5, -32))
            Line((-97.5, -32), (-97.5, -42.5))
            ThreePointArc((-97.5, -42.5), (-104, -49), (-110.5, -42.5))
        make_face(mode=Mode.SUBTRACT)
        with BuildLine():
            Line((-224.5, 38), (-224.5, 48.5))
            ThreePointArc((-224.5, 48.5), (-218, 55), (-211.5, 48.5))
            Line((-211.5, 48.5), (-211.5, 38))
            ThreePointArc((-211.5, 38), (-218, 31.5), (-224.5, 38))
        make_face(mode=Mode.SUBTRACT)
        with BuildLine():
            Line((-110.5, 38), (-110.5, 48.5))
            ThreePointArc((-110.5, 48.5), (-104, 55), (-97.5, 48.5))
            Line((-97.5, 48.5), (-97.5, 38))
            ThreePointArc((-97.5, 38), (-104, 31.5), (-110.5, 38))
        make_face(mode=Mode.SUBTRACT)
    extrude(amount=F17_DEPTH)


solid = Compound([f1.part, f3.part, f5.part, f5b.part, f9.part, f9b.part, f11.part, f15.part, f17.part])
